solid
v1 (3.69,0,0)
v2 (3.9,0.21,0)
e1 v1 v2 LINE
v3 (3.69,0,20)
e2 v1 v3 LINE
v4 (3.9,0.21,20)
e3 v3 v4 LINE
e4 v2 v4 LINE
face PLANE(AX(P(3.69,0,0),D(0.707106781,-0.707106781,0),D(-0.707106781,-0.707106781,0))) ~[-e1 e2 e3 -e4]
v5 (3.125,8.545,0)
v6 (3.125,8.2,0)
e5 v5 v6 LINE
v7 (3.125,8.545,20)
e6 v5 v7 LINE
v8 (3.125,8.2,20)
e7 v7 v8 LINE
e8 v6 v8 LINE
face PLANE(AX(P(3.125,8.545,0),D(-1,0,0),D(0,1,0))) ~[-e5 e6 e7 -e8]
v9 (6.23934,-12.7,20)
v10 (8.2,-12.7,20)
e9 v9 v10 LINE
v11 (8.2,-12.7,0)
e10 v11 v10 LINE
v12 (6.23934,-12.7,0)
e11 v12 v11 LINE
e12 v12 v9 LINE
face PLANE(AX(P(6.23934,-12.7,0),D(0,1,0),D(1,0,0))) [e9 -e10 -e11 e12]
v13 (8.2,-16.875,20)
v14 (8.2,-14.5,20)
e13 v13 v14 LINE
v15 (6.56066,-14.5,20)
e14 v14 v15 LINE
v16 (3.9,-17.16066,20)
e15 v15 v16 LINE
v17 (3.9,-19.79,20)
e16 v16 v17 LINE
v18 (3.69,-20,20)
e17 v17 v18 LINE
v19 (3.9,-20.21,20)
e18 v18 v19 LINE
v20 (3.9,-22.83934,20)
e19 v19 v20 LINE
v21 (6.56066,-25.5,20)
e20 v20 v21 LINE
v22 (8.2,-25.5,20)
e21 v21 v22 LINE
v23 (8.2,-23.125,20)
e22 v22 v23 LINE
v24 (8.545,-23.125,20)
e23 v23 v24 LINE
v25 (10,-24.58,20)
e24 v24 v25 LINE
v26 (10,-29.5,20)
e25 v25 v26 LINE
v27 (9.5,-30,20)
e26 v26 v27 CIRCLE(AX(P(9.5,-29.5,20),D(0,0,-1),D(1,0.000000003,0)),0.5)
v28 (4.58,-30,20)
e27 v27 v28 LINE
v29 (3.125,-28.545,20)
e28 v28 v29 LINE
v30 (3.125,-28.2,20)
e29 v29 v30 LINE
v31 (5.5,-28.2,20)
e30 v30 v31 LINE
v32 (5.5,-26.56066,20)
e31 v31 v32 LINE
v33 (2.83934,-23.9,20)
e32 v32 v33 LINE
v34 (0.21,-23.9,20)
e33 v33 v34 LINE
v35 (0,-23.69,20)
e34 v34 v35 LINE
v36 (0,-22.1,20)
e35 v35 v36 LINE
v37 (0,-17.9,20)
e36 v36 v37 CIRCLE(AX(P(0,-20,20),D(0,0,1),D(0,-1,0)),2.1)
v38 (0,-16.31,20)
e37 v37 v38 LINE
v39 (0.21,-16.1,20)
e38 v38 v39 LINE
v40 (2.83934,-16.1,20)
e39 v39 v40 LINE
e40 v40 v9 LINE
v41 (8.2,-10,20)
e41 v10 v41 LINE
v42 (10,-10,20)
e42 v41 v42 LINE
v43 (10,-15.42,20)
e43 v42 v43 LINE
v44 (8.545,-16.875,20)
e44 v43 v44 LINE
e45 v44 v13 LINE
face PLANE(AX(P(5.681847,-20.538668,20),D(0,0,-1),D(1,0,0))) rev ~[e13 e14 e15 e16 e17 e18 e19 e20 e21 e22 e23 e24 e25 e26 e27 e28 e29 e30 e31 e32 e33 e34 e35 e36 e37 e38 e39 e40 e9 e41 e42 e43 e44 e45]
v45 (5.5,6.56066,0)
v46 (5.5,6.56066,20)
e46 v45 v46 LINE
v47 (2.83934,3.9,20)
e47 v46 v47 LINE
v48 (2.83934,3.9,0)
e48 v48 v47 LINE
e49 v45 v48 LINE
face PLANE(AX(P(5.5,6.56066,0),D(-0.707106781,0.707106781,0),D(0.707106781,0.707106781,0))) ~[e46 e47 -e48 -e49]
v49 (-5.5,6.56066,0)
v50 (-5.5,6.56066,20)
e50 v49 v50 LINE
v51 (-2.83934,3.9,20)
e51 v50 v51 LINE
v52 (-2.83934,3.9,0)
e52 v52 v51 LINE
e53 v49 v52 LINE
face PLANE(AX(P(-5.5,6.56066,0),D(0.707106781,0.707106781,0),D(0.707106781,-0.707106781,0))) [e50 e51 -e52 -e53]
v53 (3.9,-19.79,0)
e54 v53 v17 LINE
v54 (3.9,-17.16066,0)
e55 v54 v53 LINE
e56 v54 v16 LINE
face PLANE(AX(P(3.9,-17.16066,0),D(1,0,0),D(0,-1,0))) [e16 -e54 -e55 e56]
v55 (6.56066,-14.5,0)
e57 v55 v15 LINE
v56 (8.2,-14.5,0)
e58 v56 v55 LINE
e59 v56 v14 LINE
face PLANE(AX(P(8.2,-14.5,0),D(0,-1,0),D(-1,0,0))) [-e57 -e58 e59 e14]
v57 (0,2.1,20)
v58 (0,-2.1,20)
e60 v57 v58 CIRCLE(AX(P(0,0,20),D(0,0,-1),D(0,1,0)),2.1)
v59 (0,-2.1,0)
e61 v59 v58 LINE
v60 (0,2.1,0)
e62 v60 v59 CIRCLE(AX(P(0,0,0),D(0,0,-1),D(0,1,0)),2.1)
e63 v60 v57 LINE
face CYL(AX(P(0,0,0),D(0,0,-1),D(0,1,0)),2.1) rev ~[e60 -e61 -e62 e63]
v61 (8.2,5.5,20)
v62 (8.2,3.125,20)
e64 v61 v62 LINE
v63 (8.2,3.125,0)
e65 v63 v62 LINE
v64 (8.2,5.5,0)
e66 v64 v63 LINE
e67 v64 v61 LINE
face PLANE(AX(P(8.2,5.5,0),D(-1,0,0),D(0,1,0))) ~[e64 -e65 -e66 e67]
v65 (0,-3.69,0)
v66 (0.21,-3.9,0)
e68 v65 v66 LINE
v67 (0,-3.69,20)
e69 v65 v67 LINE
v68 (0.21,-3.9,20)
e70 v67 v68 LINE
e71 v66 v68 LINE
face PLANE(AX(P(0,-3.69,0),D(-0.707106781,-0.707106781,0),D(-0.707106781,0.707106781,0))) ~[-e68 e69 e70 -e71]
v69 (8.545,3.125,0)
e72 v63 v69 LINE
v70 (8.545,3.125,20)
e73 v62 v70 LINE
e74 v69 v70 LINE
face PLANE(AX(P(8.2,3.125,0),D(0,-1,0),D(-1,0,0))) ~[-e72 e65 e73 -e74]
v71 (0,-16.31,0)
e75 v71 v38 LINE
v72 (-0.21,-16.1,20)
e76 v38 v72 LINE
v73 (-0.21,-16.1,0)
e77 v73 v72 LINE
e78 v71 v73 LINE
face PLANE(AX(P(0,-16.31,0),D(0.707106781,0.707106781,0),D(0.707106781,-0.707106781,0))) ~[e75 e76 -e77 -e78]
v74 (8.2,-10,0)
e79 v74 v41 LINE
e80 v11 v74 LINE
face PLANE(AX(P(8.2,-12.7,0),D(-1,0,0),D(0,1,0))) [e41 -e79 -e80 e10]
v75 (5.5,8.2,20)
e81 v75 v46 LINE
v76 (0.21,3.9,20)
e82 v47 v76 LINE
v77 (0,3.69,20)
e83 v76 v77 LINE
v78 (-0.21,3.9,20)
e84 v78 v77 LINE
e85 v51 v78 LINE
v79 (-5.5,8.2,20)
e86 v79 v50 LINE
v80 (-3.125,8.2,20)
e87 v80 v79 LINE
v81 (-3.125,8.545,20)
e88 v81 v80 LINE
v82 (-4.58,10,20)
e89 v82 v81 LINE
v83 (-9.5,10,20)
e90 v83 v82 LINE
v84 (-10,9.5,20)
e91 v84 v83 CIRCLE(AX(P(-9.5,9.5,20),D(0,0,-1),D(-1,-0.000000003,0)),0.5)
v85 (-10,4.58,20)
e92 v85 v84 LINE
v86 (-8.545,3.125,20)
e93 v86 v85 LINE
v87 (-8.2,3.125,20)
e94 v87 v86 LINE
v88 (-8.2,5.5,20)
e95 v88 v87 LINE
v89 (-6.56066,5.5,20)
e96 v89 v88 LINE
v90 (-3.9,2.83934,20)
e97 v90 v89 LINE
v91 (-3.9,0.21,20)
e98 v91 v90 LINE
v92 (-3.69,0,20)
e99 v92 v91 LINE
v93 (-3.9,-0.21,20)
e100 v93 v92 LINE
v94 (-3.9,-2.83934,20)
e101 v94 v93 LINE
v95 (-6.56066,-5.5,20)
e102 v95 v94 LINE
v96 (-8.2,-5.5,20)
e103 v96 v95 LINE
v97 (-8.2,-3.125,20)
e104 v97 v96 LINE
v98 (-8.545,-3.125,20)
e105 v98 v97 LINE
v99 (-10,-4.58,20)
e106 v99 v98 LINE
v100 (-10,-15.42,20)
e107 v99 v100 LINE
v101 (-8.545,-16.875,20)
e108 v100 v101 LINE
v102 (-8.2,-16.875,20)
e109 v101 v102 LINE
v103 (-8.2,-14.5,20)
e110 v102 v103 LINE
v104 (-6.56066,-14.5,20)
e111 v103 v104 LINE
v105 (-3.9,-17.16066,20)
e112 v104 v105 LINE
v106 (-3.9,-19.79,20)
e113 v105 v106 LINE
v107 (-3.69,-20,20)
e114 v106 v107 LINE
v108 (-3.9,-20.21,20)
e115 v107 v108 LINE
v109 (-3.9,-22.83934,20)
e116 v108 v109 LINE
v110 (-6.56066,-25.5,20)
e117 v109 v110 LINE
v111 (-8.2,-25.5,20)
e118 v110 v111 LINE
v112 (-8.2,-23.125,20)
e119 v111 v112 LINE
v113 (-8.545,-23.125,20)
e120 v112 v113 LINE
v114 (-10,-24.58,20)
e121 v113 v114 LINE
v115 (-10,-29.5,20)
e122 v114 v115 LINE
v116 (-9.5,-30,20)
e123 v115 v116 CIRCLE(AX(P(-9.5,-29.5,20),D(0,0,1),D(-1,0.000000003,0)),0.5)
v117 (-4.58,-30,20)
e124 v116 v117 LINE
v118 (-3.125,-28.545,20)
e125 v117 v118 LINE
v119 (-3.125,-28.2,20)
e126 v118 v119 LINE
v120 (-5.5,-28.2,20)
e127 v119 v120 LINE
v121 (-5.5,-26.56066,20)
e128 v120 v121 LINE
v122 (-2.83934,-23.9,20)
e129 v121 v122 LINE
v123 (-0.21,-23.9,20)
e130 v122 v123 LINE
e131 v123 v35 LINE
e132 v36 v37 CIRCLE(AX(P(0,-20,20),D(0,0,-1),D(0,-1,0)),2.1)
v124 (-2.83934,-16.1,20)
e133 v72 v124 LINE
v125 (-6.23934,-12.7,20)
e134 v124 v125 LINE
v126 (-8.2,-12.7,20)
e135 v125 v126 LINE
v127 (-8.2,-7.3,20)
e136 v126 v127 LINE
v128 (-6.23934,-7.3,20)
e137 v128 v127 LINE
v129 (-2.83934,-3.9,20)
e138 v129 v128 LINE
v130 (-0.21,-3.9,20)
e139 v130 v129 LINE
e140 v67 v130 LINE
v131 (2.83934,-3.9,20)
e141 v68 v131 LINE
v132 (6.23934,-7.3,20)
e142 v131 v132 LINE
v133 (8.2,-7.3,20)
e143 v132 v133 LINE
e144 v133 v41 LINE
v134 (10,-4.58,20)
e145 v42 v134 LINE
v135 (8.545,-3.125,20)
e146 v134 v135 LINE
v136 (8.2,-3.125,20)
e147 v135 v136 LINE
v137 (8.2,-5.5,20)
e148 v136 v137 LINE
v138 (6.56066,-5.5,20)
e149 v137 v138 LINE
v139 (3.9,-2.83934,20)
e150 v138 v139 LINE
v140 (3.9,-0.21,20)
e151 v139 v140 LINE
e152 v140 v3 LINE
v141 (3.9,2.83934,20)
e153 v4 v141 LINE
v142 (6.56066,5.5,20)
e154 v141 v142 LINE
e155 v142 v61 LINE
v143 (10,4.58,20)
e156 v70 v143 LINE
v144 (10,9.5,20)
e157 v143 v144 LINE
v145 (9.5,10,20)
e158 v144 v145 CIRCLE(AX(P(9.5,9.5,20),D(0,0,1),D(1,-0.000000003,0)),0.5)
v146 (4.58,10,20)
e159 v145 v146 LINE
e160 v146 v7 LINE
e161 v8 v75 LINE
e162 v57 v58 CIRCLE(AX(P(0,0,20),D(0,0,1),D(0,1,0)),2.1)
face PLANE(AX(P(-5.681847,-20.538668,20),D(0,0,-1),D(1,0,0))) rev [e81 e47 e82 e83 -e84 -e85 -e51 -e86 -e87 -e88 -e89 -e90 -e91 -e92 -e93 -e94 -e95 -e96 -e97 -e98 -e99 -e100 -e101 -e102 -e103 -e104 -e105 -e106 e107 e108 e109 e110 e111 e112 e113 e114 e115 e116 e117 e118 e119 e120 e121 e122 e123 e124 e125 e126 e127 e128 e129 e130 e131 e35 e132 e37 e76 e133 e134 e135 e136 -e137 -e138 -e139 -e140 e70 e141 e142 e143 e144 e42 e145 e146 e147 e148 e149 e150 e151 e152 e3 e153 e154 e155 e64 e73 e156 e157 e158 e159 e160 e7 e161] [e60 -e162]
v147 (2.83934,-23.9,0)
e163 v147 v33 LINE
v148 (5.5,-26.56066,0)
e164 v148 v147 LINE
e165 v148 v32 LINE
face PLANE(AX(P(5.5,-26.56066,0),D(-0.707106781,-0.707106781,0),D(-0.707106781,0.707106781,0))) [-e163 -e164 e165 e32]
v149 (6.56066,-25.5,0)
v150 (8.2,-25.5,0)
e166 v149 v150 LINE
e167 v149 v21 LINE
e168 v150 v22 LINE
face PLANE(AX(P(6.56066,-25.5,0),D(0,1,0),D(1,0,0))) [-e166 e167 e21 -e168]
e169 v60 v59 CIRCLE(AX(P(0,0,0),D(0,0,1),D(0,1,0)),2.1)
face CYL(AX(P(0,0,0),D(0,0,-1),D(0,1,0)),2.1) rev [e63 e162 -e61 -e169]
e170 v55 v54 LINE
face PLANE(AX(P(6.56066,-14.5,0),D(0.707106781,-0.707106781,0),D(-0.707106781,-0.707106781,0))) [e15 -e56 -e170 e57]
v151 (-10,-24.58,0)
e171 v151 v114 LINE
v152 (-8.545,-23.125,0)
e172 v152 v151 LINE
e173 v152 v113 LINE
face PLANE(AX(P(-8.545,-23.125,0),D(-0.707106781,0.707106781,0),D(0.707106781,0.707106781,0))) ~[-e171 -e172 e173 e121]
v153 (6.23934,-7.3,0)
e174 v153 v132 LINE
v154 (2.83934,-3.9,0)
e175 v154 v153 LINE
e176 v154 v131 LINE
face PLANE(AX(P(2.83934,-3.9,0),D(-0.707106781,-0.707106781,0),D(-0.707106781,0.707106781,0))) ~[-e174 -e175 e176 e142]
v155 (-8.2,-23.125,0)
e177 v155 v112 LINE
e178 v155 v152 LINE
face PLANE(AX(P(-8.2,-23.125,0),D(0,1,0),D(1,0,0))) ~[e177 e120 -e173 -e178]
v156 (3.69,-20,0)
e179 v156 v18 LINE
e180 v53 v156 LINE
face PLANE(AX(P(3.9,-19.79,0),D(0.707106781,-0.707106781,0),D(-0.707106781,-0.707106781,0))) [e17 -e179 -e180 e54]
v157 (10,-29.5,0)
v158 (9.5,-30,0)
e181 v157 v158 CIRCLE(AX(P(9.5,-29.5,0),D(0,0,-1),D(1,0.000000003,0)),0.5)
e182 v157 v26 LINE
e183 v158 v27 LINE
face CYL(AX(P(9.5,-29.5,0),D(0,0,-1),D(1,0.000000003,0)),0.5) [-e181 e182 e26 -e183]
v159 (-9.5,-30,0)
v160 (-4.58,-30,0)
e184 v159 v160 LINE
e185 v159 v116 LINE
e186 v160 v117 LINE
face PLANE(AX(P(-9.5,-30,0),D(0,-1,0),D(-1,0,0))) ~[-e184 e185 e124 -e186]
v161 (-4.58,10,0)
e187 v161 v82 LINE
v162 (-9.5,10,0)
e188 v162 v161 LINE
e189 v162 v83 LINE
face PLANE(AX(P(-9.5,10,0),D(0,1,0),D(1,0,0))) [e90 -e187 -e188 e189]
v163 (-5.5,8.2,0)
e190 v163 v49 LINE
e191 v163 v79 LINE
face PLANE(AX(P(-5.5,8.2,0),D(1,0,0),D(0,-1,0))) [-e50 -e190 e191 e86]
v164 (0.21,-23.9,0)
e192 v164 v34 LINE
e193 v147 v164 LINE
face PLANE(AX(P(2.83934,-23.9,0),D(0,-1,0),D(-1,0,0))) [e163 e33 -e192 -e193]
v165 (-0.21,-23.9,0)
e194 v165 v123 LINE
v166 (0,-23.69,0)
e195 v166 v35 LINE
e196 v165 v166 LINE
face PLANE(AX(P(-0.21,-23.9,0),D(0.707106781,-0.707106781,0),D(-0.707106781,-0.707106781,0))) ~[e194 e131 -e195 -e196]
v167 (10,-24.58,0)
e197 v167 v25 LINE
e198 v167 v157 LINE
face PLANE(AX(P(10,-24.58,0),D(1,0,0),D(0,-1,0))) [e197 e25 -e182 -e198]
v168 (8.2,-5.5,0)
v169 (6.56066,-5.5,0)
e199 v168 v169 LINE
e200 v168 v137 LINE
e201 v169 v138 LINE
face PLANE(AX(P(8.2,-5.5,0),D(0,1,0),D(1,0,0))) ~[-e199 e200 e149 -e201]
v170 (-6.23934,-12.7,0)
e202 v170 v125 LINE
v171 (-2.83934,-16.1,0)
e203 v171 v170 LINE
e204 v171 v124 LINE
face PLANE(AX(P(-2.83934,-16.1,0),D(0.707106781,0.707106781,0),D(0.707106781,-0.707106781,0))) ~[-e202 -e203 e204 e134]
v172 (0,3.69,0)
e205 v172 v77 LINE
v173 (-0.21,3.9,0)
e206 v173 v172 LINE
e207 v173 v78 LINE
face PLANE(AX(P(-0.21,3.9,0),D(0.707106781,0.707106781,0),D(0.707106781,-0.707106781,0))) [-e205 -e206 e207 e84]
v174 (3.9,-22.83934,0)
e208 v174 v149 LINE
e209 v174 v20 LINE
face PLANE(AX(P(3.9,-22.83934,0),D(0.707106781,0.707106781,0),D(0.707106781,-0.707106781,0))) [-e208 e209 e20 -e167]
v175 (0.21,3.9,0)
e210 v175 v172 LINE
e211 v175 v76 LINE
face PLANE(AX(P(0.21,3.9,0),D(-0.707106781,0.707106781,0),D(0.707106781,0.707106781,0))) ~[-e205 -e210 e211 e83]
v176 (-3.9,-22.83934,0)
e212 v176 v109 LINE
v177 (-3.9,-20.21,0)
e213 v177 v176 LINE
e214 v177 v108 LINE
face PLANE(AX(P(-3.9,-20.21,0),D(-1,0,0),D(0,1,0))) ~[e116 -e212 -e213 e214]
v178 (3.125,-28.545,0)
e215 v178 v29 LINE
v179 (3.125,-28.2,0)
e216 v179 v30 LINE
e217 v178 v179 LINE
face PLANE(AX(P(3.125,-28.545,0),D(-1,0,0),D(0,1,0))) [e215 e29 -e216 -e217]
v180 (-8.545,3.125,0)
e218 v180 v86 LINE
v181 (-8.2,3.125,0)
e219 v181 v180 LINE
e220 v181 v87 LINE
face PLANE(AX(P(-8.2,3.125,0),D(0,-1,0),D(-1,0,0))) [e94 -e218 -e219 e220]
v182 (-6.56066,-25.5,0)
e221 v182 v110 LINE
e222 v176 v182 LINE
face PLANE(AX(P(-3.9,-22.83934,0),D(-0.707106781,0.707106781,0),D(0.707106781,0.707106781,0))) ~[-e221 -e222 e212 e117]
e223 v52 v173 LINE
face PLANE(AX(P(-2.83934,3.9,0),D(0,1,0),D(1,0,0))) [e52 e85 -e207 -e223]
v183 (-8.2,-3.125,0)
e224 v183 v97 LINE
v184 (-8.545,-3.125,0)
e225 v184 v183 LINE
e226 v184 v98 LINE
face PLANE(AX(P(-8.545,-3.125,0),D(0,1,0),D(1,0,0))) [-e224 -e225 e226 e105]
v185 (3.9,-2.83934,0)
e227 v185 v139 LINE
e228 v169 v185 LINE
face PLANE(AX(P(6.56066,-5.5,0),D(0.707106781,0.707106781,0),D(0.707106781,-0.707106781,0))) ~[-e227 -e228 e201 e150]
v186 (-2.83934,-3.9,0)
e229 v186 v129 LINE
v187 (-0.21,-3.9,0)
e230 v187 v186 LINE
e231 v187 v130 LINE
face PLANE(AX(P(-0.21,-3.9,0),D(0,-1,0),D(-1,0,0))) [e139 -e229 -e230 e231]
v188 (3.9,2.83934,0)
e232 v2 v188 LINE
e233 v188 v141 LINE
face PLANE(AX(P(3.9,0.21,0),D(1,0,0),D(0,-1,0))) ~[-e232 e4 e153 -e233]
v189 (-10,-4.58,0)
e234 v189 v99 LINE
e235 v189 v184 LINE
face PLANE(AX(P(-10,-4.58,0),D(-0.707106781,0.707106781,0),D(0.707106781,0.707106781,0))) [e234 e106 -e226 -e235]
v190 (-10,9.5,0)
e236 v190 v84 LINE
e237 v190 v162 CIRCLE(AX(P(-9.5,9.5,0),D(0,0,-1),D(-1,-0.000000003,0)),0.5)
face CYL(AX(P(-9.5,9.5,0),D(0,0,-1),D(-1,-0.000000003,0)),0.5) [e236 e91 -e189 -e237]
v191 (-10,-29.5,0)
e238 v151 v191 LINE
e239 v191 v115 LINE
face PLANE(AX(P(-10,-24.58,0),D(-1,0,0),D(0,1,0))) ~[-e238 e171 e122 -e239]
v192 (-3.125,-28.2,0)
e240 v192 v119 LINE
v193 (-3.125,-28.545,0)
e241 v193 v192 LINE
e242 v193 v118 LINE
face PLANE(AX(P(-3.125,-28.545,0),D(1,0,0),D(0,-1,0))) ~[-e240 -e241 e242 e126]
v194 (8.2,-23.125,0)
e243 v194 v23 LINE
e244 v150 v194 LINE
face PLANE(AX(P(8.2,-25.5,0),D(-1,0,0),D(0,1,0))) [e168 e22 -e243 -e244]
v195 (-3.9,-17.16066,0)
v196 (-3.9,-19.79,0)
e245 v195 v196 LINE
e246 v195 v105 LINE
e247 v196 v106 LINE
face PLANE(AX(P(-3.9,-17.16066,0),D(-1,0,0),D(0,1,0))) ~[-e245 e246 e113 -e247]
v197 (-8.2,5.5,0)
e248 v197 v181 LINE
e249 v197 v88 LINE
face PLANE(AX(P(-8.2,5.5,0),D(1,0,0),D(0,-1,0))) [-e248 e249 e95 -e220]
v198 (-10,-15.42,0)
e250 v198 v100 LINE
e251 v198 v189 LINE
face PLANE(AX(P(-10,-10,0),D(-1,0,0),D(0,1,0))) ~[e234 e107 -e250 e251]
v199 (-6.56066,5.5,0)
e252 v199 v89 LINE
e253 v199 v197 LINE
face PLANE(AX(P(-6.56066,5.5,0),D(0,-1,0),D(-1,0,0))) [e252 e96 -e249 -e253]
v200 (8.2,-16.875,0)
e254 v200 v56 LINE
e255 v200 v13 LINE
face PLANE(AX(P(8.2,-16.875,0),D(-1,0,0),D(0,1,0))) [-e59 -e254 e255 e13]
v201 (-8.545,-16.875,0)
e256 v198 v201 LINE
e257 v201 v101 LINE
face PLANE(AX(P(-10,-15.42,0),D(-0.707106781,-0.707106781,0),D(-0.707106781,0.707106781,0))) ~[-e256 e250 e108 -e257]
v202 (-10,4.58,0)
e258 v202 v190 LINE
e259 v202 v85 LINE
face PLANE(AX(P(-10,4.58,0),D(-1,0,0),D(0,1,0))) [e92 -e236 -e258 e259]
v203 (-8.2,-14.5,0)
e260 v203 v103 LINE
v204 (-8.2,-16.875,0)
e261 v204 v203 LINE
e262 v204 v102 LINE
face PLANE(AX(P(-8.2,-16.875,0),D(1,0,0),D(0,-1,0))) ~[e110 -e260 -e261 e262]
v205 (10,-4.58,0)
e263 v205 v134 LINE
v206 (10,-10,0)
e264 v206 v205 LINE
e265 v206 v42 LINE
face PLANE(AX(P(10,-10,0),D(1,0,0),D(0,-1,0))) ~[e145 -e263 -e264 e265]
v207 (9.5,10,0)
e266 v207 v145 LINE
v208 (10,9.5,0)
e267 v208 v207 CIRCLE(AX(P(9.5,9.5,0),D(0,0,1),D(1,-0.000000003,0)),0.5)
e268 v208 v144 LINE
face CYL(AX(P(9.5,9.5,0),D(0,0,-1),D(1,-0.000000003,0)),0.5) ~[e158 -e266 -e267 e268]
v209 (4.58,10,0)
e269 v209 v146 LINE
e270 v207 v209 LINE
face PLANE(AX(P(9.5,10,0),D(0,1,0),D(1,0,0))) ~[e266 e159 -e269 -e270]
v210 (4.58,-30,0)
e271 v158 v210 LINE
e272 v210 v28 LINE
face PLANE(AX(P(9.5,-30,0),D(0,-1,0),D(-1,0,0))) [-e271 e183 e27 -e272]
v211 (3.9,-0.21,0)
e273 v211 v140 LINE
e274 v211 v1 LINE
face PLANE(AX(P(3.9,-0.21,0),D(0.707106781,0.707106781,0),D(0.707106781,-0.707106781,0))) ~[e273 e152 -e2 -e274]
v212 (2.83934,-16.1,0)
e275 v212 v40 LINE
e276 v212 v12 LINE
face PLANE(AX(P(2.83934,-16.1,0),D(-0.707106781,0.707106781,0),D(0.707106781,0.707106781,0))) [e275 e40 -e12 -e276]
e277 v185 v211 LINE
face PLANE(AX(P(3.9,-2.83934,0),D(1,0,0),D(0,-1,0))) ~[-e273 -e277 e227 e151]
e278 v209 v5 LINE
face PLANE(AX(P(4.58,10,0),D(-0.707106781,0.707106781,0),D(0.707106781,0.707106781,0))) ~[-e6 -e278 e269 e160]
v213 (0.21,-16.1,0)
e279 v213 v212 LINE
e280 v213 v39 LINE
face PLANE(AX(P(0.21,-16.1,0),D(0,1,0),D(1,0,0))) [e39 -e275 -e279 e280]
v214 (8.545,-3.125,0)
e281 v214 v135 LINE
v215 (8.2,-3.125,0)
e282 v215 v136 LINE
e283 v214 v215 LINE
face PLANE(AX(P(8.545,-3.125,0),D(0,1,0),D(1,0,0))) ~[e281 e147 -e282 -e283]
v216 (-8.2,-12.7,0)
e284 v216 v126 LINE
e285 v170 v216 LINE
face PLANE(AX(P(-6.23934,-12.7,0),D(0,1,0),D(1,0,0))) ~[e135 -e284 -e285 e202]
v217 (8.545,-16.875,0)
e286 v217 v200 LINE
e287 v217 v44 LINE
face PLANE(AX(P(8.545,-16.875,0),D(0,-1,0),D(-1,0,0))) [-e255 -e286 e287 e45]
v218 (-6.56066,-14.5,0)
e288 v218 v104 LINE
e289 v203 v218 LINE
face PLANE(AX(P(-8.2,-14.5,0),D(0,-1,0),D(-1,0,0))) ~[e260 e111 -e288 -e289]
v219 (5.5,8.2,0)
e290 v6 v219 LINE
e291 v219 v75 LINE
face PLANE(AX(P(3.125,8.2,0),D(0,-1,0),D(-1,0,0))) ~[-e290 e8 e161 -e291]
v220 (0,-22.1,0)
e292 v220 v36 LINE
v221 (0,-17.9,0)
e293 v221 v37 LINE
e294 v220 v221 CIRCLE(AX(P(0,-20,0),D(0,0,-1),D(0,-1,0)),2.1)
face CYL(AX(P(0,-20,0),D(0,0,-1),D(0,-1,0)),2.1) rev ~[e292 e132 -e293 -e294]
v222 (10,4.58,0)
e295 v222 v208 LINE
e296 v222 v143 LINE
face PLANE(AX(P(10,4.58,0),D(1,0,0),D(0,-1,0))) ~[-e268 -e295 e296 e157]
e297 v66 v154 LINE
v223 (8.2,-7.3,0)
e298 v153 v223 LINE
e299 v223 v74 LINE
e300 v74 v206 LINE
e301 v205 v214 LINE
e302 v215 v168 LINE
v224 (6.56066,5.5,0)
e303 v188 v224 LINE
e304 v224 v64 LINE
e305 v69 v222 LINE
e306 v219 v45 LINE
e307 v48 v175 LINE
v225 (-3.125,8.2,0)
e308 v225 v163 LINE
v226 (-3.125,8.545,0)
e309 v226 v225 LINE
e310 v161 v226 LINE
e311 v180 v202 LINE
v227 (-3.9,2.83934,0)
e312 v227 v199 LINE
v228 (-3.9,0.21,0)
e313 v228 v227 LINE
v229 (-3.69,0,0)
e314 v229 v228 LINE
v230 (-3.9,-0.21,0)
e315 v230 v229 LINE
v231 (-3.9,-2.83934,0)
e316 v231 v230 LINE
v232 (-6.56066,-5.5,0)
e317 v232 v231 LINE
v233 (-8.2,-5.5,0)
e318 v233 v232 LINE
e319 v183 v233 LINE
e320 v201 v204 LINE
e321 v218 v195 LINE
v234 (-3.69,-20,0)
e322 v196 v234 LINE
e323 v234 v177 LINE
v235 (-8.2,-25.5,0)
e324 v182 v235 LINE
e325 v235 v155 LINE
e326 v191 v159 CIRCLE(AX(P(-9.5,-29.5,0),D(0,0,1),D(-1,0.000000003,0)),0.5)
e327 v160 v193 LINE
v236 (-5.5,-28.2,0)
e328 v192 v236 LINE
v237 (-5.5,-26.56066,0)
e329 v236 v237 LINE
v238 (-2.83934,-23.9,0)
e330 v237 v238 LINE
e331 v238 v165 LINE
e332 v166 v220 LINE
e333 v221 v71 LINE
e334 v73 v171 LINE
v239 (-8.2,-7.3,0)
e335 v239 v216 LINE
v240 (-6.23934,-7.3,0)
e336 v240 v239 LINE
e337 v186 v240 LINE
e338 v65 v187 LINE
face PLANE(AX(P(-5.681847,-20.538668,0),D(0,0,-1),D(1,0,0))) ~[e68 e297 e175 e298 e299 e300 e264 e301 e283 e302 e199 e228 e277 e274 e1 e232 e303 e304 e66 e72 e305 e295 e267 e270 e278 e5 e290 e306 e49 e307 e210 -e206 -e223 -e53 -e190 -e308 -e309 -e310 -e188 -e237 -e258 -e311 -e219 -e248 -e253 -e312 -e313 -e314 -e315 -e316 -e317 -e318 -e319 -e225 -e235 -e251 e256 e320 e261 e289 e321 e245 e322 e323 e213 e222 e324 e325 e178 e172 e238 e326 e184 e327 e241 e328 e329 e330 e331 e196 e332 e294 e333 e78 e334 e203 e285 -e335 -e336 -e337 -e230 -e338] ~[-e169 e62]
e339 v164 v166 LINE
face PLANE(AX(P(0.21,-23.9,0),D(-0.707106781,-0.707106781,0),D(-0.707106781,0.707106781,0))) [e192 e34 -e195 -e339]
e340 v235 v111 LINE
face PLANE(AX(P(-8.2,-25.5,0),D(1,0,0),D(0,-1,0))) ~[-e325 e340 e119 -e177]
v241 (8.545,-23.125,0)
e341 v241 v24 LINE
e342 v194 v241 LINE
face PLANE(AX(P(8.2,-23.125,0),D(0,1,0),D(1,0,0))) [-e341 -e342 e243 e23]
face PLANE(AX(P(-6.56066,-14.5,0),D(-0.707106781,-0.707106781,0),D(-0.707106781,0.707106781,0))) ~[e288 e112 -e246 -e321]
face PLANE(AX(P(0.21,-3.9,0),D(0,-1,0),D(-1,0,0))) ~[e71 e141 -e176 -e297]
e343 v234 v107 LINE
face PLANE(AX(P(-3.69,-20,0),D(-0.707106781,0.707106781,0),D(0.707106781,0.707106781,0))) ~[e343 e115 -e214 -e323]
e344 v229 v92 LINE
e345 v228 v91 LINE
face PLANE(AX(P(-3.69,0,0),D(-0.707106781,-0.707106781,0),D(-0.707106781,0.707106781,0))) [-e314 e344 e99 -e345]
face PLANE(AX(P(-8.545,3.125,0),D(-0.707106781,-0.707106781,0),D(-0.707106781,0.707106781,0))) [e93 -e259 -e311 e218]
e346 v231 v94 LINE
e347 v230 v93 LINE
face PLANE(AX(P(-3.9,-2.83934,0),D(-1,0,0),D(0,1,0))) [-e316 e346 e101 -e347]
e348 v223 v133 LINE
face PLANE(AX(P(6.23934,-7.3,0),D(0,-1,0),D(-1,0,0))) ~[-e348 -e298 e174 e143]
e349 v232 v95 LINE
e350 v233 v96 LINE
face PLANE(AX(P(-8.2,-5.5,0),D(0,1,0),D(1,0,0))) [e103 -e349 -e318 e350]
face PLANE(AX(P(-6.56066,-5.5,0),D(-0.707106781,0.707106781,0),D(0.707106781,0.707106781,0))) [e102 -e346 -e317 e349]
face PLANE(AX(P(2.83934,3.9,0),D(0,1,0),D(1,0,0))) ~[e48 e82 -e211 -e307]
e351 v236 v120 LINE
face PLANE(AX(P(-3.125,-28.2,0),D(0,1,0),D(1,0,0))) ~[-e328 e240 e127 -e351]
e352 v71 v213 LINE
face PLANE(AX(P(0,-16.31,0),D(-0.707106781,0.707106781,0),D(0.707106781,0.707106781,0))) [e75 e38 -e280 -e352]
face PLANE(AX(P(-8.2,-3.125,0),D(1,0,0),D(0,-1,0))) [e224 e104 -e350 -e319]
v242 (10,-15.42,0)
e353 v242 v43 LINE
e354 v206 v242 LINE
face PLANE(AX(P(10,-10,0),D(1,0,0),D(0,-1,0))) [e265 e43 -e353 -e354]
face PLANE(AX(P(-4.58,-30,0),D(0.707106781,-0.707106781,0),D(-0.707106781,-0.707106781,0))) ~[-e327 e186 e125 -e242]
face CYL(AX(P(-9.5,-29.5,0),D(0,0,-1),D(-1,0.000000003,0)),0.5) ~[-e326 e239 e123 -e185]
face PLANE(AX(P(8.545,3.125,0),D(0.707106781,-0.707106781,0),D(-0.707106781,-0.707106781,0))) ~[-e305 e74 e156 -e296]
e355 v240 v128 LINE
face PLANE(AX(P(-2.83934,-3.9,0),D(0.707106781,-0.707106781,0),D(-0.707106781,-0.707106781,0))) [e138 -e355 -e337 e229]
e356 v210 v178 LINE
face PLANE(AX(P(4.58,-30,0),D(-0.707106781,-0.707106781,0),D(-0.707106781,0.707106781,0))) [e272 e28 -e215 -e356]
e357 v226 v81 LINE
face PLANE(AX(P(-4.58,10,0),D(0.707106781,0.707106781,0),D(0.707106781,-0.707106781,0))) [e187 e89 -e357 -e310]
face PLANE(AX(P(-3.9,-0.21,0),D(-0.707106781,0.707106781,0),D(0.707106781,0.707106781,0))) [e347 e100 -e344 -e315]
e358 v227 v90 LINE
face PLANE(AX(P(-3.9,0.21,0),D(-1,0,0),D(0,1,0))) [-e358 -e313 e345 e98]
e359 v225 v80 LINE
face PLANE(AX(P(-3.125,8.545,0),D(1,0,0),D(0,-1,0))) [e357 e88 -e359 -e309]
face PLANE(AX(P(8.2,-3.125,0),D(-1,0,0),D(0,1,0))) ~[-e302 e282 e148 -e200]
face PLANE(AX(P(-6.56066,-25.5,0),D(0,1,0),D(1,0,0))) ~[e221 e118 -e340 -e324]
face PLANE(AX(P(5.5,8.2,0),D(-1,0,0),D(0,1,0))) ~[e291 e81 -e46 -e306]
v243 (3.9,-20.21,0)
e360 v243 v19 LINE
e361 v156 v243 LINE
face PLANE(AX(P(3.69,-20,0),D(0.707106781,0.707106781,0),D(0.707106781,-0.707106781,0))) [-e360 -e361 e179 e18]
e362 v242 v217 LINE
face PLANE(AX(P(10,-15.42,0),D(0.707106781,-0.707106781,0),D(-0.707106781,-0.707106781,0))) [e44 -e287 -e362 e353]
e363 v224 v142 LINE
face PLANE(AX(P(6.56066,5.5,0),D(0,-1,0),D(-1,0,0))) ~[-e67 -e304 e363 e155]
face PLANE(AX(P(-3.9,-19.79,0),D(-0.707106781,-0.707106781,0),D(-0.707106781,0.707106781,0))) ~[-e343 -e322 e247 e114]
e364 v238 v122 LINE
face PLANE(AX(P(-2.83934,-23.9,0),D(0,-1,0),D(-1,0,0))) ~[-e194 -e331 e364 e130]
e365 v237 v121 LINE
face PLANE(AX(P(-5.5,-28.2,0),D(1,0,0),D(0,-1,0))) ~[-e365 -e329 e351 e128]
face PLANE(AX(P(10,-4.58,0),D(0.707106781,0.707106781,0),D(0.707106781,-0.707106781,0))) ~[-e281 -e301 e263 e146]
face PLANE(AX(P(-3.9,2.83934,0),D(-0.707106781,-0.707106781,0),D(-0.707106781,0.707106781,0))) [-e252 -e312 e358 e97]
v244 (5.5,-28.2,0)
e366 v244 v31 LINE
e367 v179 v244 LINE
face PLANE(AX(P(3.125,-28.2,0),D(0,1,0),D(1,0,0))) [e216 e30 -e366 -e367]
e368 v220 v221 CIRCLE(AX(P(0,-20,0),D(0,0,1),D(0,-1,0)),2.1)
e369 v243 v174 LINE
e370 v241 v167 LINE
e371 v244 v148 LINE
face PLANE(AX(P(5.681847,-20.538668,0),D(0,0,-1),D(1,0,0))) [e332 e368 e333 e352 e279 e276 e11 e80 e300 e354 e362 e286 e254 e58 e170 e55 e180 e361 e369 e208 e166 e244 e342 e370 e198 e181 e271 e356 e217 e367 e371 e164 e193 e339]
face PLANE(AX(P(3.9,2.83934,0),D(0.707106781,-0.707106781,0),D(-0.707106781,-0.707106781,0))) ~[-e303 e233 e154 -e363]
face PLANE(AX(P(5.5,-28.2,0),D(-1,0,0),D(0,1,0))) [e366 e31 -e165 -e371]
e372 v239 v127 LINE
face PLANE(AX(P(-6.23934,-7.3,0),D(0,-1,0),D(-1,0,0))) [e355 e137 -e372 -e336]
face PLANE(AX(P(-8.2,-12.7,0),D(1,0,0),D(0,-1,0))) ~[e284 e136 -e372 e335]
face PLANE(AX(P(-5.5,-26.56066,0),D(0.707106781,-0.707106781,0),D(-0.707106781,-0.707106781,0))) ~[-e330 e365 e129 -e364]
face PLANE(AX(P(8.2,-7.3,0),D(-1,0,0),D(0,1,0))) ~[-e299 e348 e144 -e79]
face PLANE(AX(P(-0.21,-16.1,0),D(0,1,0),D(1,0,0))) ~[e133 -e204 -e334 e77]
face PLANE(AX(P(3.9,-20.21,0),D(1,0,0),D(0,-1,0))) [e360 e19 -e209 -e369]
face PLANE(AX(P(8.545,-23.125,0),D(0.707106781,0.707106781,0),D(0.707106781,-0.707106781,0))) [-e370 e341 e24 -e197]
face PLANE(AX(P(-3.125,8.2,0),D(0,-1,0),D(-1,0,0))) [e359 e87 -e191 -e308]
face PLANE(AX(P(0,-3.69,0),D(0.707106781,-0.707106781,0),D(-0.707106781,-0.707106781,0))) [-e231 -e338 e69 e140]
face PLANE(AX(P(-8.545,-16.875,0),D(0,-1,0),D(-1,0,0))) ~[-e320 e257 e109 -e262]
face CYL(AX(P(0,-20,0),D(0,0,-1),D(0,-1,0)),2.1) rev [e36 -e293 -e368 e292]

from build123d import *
from build123d.topology import SkipClean

# Parameters (mm, degrees)
BOSS_EXTRU_1_DEPTH     = 20
SYM_TRIE6_COPY_1_DEPTH = 20


with BuildPart() as part:
    # Esquisse1 → Boss.-Extru.1 (new body)
    with BuildSketch(Plane.XY):
        with BuildLine():
            Line((-9.5, 10), (-4.58, 10))
            Line((-4.58, 10), (-3.125, 8.545))
            Line((-3.125, 8.545), (-3.125, 8.2))
            Line((-3.125, 8.2), (-5.5, 8.2))
            Line((-5.5, 8.2), (-5.5, 6.560660172))
            Line((-5.5, 6.560660172), (-2.839339828, 3.9))
            Line((-2.839339828, 3.9), (-0.21, 3.9))
            Line((-0.21, 3.9), (0, 3.69))
            Line((0, 3.69), (0, 2.1))
            ThreePointArc((0, 2.1), (-2.1, 0), (0, -2.1))
            Line((0, -2.1), (0, -3.69))
            Line((0, -3.69), (-0.21, -3.9))
            Line((-0.21, -3.9), (-2.839339828, -3.9))
            Line((-2.839339828, -3.9), (-6.239339828, -7.3))
            Line((-6.239339828, -7.3), (-8.2, -7.3))
            Line((-8.2, -7.3), (-8.2, -10))
            Line((-8.2, -10), (-10, -10))
            Line((-10, -10), (-10, -4.58))
            Line((-10, -4.58), (-8.545, -3.125))
            Line((-8.545, -3.125), (-8.2, -3.125))
            Line((-8.2, -3.125), (-8.2, -5.5))
            Line((-8.2, -5.5), (-6.560660172, -5.5))
            Line((-6.560660172, -5.5), (-3.9, -2.839339828))
            Line((-3.9, -2.839339828), (-3.9, -0.21))
            Line((-3.9, -0.21), (-3.69, 0))
            Line((-3.69, 0), (-3.9, 0.21))
            Line((-3.9, 0.21), (-3.9, 2.839339828))
            Line((-3.9, 2.839339828), (-6.560660172, 5.5))
            Line((-6.560660172, 5.5), (-8.2, 5.5))
            Line((-8.2, 5.5), (-8.2, 3.125))
            Line((-8.2, 3.125), (-8.545, 3.125))
            Line((-8.545, 3.125), (-10, 4.58))
            Line((-10, 4.58), (-10, 9.5))
            ThreePointArc((-10, 9.5), (-9.853553391, 9.853553391), (-9.5, 10))
        make_face()
    boss_extru_1 = extrude(amount=BOSS_EXTRU_1_DEPTH)

    # Symétrie1: Boss.-Extru.1 across plane
    add(boss_extru_1.mirror(Plane(origin=(0, 3.69, 20), x_dir=(0, 0, 1), z_dir=(-1, 0, 0))))

    # Symétrie6: Boss.-Extru.1 across plane
    add(boss_extru_1.mirror(Plane(origin=(-8.2, -10, 20), x_dir=(0, 0, 1), z_dir=(0, 1, 0))))

    # Symétrie6 copy 1 sketch → Symétrie6 copy 1 (add)
    with SkipClean():  # the faces are left unmerged after this step: merging them gives an invalid solid
        with BuildSketch(Plane(origin=(0, -20, 0), x_dir=(-1, 0, 0), z_dir=(0, 0, 1))):
            with BuildLine():
                Line((-9.5, 10), (-4.58, 10))
                Line((-4.58, 10), (-3.125, 8.545))
                Line((-3.125, 8.545), (-3.125, 8.2))
                Line((-3.125, 8.2), (-5.5, 8.2))
                Line((-5.5, 8.2), (-5.5, 6.560660172))
                Line((-5.5, 6.560660172), (-2.839339828, 3.9))
                Line((-2.839339828, 3.9), (-0.21, 3.9))
                Line((-0.21, 3.9), (0, 3.69))
                Line((0, 3.69), (0, 2.1))
                ThreePointArc((0, 2.1), (-2.1, 0), (0, -2.1))
                Line((0, -2.1), (0, -3.69))
                Line((0, -3.69), (-0.21, -3.9))
                Line((-0.21, -3.9), (-2.839339828, -3.9))
                Line((-2.839339828, -3.9), (-6.239339828, -7.3))
                Line((-6.239339828, -7.3), (-8.2, -7.3))
                Line((-8.2, -7.3), (-8.2, -10))
                Line((-8.2, -10), (-10, -10))
                Line((-10, -10), (-10, -4.58))
                Line((-10, -4.58), (-8.545, -3.125))
                Line((-8.545, -3.125), (-8.2, -3.125))
                Line((-8.2, -3.125), (-8.2, -5.5))
                Line((-8.2, -5.5), (-6.560660172, -5.5))
                Line((-6.560660172, -5.5), (-3.9, -2.839339828))
                Line((-3.9, -2.839339828), (-3.9, -0.21))
                Line((-3.9, -0.21), (-3.69, 0))
                Line((-3.69, 0), (-3.9, 0.21))
                Line((-3.9, 0.21), (-3.9, 2.839339828))
                Line((-3.9, 2.839339828), (-6.560660172, 5.5))
                Line((-6.560660172, 5.5), (-8.2, 5.5))
                Line((-8.2, 5.5), (-8.2, 3.125))
                Line((-8.2, 3.125), (-8.545, 3.125))
                Line((-8.545, 3.125), (-10, 4.58))
                Line((-10, 4.58), (-10, 9.5))
                ThreePointArc((-10, 9.5), (-9.853553391, 9.853553391), (-9.5, 10))
            make_face()
        extrude(amount=SYM_TRIE6_COPY_1_DEPTH)


solid = part.part
